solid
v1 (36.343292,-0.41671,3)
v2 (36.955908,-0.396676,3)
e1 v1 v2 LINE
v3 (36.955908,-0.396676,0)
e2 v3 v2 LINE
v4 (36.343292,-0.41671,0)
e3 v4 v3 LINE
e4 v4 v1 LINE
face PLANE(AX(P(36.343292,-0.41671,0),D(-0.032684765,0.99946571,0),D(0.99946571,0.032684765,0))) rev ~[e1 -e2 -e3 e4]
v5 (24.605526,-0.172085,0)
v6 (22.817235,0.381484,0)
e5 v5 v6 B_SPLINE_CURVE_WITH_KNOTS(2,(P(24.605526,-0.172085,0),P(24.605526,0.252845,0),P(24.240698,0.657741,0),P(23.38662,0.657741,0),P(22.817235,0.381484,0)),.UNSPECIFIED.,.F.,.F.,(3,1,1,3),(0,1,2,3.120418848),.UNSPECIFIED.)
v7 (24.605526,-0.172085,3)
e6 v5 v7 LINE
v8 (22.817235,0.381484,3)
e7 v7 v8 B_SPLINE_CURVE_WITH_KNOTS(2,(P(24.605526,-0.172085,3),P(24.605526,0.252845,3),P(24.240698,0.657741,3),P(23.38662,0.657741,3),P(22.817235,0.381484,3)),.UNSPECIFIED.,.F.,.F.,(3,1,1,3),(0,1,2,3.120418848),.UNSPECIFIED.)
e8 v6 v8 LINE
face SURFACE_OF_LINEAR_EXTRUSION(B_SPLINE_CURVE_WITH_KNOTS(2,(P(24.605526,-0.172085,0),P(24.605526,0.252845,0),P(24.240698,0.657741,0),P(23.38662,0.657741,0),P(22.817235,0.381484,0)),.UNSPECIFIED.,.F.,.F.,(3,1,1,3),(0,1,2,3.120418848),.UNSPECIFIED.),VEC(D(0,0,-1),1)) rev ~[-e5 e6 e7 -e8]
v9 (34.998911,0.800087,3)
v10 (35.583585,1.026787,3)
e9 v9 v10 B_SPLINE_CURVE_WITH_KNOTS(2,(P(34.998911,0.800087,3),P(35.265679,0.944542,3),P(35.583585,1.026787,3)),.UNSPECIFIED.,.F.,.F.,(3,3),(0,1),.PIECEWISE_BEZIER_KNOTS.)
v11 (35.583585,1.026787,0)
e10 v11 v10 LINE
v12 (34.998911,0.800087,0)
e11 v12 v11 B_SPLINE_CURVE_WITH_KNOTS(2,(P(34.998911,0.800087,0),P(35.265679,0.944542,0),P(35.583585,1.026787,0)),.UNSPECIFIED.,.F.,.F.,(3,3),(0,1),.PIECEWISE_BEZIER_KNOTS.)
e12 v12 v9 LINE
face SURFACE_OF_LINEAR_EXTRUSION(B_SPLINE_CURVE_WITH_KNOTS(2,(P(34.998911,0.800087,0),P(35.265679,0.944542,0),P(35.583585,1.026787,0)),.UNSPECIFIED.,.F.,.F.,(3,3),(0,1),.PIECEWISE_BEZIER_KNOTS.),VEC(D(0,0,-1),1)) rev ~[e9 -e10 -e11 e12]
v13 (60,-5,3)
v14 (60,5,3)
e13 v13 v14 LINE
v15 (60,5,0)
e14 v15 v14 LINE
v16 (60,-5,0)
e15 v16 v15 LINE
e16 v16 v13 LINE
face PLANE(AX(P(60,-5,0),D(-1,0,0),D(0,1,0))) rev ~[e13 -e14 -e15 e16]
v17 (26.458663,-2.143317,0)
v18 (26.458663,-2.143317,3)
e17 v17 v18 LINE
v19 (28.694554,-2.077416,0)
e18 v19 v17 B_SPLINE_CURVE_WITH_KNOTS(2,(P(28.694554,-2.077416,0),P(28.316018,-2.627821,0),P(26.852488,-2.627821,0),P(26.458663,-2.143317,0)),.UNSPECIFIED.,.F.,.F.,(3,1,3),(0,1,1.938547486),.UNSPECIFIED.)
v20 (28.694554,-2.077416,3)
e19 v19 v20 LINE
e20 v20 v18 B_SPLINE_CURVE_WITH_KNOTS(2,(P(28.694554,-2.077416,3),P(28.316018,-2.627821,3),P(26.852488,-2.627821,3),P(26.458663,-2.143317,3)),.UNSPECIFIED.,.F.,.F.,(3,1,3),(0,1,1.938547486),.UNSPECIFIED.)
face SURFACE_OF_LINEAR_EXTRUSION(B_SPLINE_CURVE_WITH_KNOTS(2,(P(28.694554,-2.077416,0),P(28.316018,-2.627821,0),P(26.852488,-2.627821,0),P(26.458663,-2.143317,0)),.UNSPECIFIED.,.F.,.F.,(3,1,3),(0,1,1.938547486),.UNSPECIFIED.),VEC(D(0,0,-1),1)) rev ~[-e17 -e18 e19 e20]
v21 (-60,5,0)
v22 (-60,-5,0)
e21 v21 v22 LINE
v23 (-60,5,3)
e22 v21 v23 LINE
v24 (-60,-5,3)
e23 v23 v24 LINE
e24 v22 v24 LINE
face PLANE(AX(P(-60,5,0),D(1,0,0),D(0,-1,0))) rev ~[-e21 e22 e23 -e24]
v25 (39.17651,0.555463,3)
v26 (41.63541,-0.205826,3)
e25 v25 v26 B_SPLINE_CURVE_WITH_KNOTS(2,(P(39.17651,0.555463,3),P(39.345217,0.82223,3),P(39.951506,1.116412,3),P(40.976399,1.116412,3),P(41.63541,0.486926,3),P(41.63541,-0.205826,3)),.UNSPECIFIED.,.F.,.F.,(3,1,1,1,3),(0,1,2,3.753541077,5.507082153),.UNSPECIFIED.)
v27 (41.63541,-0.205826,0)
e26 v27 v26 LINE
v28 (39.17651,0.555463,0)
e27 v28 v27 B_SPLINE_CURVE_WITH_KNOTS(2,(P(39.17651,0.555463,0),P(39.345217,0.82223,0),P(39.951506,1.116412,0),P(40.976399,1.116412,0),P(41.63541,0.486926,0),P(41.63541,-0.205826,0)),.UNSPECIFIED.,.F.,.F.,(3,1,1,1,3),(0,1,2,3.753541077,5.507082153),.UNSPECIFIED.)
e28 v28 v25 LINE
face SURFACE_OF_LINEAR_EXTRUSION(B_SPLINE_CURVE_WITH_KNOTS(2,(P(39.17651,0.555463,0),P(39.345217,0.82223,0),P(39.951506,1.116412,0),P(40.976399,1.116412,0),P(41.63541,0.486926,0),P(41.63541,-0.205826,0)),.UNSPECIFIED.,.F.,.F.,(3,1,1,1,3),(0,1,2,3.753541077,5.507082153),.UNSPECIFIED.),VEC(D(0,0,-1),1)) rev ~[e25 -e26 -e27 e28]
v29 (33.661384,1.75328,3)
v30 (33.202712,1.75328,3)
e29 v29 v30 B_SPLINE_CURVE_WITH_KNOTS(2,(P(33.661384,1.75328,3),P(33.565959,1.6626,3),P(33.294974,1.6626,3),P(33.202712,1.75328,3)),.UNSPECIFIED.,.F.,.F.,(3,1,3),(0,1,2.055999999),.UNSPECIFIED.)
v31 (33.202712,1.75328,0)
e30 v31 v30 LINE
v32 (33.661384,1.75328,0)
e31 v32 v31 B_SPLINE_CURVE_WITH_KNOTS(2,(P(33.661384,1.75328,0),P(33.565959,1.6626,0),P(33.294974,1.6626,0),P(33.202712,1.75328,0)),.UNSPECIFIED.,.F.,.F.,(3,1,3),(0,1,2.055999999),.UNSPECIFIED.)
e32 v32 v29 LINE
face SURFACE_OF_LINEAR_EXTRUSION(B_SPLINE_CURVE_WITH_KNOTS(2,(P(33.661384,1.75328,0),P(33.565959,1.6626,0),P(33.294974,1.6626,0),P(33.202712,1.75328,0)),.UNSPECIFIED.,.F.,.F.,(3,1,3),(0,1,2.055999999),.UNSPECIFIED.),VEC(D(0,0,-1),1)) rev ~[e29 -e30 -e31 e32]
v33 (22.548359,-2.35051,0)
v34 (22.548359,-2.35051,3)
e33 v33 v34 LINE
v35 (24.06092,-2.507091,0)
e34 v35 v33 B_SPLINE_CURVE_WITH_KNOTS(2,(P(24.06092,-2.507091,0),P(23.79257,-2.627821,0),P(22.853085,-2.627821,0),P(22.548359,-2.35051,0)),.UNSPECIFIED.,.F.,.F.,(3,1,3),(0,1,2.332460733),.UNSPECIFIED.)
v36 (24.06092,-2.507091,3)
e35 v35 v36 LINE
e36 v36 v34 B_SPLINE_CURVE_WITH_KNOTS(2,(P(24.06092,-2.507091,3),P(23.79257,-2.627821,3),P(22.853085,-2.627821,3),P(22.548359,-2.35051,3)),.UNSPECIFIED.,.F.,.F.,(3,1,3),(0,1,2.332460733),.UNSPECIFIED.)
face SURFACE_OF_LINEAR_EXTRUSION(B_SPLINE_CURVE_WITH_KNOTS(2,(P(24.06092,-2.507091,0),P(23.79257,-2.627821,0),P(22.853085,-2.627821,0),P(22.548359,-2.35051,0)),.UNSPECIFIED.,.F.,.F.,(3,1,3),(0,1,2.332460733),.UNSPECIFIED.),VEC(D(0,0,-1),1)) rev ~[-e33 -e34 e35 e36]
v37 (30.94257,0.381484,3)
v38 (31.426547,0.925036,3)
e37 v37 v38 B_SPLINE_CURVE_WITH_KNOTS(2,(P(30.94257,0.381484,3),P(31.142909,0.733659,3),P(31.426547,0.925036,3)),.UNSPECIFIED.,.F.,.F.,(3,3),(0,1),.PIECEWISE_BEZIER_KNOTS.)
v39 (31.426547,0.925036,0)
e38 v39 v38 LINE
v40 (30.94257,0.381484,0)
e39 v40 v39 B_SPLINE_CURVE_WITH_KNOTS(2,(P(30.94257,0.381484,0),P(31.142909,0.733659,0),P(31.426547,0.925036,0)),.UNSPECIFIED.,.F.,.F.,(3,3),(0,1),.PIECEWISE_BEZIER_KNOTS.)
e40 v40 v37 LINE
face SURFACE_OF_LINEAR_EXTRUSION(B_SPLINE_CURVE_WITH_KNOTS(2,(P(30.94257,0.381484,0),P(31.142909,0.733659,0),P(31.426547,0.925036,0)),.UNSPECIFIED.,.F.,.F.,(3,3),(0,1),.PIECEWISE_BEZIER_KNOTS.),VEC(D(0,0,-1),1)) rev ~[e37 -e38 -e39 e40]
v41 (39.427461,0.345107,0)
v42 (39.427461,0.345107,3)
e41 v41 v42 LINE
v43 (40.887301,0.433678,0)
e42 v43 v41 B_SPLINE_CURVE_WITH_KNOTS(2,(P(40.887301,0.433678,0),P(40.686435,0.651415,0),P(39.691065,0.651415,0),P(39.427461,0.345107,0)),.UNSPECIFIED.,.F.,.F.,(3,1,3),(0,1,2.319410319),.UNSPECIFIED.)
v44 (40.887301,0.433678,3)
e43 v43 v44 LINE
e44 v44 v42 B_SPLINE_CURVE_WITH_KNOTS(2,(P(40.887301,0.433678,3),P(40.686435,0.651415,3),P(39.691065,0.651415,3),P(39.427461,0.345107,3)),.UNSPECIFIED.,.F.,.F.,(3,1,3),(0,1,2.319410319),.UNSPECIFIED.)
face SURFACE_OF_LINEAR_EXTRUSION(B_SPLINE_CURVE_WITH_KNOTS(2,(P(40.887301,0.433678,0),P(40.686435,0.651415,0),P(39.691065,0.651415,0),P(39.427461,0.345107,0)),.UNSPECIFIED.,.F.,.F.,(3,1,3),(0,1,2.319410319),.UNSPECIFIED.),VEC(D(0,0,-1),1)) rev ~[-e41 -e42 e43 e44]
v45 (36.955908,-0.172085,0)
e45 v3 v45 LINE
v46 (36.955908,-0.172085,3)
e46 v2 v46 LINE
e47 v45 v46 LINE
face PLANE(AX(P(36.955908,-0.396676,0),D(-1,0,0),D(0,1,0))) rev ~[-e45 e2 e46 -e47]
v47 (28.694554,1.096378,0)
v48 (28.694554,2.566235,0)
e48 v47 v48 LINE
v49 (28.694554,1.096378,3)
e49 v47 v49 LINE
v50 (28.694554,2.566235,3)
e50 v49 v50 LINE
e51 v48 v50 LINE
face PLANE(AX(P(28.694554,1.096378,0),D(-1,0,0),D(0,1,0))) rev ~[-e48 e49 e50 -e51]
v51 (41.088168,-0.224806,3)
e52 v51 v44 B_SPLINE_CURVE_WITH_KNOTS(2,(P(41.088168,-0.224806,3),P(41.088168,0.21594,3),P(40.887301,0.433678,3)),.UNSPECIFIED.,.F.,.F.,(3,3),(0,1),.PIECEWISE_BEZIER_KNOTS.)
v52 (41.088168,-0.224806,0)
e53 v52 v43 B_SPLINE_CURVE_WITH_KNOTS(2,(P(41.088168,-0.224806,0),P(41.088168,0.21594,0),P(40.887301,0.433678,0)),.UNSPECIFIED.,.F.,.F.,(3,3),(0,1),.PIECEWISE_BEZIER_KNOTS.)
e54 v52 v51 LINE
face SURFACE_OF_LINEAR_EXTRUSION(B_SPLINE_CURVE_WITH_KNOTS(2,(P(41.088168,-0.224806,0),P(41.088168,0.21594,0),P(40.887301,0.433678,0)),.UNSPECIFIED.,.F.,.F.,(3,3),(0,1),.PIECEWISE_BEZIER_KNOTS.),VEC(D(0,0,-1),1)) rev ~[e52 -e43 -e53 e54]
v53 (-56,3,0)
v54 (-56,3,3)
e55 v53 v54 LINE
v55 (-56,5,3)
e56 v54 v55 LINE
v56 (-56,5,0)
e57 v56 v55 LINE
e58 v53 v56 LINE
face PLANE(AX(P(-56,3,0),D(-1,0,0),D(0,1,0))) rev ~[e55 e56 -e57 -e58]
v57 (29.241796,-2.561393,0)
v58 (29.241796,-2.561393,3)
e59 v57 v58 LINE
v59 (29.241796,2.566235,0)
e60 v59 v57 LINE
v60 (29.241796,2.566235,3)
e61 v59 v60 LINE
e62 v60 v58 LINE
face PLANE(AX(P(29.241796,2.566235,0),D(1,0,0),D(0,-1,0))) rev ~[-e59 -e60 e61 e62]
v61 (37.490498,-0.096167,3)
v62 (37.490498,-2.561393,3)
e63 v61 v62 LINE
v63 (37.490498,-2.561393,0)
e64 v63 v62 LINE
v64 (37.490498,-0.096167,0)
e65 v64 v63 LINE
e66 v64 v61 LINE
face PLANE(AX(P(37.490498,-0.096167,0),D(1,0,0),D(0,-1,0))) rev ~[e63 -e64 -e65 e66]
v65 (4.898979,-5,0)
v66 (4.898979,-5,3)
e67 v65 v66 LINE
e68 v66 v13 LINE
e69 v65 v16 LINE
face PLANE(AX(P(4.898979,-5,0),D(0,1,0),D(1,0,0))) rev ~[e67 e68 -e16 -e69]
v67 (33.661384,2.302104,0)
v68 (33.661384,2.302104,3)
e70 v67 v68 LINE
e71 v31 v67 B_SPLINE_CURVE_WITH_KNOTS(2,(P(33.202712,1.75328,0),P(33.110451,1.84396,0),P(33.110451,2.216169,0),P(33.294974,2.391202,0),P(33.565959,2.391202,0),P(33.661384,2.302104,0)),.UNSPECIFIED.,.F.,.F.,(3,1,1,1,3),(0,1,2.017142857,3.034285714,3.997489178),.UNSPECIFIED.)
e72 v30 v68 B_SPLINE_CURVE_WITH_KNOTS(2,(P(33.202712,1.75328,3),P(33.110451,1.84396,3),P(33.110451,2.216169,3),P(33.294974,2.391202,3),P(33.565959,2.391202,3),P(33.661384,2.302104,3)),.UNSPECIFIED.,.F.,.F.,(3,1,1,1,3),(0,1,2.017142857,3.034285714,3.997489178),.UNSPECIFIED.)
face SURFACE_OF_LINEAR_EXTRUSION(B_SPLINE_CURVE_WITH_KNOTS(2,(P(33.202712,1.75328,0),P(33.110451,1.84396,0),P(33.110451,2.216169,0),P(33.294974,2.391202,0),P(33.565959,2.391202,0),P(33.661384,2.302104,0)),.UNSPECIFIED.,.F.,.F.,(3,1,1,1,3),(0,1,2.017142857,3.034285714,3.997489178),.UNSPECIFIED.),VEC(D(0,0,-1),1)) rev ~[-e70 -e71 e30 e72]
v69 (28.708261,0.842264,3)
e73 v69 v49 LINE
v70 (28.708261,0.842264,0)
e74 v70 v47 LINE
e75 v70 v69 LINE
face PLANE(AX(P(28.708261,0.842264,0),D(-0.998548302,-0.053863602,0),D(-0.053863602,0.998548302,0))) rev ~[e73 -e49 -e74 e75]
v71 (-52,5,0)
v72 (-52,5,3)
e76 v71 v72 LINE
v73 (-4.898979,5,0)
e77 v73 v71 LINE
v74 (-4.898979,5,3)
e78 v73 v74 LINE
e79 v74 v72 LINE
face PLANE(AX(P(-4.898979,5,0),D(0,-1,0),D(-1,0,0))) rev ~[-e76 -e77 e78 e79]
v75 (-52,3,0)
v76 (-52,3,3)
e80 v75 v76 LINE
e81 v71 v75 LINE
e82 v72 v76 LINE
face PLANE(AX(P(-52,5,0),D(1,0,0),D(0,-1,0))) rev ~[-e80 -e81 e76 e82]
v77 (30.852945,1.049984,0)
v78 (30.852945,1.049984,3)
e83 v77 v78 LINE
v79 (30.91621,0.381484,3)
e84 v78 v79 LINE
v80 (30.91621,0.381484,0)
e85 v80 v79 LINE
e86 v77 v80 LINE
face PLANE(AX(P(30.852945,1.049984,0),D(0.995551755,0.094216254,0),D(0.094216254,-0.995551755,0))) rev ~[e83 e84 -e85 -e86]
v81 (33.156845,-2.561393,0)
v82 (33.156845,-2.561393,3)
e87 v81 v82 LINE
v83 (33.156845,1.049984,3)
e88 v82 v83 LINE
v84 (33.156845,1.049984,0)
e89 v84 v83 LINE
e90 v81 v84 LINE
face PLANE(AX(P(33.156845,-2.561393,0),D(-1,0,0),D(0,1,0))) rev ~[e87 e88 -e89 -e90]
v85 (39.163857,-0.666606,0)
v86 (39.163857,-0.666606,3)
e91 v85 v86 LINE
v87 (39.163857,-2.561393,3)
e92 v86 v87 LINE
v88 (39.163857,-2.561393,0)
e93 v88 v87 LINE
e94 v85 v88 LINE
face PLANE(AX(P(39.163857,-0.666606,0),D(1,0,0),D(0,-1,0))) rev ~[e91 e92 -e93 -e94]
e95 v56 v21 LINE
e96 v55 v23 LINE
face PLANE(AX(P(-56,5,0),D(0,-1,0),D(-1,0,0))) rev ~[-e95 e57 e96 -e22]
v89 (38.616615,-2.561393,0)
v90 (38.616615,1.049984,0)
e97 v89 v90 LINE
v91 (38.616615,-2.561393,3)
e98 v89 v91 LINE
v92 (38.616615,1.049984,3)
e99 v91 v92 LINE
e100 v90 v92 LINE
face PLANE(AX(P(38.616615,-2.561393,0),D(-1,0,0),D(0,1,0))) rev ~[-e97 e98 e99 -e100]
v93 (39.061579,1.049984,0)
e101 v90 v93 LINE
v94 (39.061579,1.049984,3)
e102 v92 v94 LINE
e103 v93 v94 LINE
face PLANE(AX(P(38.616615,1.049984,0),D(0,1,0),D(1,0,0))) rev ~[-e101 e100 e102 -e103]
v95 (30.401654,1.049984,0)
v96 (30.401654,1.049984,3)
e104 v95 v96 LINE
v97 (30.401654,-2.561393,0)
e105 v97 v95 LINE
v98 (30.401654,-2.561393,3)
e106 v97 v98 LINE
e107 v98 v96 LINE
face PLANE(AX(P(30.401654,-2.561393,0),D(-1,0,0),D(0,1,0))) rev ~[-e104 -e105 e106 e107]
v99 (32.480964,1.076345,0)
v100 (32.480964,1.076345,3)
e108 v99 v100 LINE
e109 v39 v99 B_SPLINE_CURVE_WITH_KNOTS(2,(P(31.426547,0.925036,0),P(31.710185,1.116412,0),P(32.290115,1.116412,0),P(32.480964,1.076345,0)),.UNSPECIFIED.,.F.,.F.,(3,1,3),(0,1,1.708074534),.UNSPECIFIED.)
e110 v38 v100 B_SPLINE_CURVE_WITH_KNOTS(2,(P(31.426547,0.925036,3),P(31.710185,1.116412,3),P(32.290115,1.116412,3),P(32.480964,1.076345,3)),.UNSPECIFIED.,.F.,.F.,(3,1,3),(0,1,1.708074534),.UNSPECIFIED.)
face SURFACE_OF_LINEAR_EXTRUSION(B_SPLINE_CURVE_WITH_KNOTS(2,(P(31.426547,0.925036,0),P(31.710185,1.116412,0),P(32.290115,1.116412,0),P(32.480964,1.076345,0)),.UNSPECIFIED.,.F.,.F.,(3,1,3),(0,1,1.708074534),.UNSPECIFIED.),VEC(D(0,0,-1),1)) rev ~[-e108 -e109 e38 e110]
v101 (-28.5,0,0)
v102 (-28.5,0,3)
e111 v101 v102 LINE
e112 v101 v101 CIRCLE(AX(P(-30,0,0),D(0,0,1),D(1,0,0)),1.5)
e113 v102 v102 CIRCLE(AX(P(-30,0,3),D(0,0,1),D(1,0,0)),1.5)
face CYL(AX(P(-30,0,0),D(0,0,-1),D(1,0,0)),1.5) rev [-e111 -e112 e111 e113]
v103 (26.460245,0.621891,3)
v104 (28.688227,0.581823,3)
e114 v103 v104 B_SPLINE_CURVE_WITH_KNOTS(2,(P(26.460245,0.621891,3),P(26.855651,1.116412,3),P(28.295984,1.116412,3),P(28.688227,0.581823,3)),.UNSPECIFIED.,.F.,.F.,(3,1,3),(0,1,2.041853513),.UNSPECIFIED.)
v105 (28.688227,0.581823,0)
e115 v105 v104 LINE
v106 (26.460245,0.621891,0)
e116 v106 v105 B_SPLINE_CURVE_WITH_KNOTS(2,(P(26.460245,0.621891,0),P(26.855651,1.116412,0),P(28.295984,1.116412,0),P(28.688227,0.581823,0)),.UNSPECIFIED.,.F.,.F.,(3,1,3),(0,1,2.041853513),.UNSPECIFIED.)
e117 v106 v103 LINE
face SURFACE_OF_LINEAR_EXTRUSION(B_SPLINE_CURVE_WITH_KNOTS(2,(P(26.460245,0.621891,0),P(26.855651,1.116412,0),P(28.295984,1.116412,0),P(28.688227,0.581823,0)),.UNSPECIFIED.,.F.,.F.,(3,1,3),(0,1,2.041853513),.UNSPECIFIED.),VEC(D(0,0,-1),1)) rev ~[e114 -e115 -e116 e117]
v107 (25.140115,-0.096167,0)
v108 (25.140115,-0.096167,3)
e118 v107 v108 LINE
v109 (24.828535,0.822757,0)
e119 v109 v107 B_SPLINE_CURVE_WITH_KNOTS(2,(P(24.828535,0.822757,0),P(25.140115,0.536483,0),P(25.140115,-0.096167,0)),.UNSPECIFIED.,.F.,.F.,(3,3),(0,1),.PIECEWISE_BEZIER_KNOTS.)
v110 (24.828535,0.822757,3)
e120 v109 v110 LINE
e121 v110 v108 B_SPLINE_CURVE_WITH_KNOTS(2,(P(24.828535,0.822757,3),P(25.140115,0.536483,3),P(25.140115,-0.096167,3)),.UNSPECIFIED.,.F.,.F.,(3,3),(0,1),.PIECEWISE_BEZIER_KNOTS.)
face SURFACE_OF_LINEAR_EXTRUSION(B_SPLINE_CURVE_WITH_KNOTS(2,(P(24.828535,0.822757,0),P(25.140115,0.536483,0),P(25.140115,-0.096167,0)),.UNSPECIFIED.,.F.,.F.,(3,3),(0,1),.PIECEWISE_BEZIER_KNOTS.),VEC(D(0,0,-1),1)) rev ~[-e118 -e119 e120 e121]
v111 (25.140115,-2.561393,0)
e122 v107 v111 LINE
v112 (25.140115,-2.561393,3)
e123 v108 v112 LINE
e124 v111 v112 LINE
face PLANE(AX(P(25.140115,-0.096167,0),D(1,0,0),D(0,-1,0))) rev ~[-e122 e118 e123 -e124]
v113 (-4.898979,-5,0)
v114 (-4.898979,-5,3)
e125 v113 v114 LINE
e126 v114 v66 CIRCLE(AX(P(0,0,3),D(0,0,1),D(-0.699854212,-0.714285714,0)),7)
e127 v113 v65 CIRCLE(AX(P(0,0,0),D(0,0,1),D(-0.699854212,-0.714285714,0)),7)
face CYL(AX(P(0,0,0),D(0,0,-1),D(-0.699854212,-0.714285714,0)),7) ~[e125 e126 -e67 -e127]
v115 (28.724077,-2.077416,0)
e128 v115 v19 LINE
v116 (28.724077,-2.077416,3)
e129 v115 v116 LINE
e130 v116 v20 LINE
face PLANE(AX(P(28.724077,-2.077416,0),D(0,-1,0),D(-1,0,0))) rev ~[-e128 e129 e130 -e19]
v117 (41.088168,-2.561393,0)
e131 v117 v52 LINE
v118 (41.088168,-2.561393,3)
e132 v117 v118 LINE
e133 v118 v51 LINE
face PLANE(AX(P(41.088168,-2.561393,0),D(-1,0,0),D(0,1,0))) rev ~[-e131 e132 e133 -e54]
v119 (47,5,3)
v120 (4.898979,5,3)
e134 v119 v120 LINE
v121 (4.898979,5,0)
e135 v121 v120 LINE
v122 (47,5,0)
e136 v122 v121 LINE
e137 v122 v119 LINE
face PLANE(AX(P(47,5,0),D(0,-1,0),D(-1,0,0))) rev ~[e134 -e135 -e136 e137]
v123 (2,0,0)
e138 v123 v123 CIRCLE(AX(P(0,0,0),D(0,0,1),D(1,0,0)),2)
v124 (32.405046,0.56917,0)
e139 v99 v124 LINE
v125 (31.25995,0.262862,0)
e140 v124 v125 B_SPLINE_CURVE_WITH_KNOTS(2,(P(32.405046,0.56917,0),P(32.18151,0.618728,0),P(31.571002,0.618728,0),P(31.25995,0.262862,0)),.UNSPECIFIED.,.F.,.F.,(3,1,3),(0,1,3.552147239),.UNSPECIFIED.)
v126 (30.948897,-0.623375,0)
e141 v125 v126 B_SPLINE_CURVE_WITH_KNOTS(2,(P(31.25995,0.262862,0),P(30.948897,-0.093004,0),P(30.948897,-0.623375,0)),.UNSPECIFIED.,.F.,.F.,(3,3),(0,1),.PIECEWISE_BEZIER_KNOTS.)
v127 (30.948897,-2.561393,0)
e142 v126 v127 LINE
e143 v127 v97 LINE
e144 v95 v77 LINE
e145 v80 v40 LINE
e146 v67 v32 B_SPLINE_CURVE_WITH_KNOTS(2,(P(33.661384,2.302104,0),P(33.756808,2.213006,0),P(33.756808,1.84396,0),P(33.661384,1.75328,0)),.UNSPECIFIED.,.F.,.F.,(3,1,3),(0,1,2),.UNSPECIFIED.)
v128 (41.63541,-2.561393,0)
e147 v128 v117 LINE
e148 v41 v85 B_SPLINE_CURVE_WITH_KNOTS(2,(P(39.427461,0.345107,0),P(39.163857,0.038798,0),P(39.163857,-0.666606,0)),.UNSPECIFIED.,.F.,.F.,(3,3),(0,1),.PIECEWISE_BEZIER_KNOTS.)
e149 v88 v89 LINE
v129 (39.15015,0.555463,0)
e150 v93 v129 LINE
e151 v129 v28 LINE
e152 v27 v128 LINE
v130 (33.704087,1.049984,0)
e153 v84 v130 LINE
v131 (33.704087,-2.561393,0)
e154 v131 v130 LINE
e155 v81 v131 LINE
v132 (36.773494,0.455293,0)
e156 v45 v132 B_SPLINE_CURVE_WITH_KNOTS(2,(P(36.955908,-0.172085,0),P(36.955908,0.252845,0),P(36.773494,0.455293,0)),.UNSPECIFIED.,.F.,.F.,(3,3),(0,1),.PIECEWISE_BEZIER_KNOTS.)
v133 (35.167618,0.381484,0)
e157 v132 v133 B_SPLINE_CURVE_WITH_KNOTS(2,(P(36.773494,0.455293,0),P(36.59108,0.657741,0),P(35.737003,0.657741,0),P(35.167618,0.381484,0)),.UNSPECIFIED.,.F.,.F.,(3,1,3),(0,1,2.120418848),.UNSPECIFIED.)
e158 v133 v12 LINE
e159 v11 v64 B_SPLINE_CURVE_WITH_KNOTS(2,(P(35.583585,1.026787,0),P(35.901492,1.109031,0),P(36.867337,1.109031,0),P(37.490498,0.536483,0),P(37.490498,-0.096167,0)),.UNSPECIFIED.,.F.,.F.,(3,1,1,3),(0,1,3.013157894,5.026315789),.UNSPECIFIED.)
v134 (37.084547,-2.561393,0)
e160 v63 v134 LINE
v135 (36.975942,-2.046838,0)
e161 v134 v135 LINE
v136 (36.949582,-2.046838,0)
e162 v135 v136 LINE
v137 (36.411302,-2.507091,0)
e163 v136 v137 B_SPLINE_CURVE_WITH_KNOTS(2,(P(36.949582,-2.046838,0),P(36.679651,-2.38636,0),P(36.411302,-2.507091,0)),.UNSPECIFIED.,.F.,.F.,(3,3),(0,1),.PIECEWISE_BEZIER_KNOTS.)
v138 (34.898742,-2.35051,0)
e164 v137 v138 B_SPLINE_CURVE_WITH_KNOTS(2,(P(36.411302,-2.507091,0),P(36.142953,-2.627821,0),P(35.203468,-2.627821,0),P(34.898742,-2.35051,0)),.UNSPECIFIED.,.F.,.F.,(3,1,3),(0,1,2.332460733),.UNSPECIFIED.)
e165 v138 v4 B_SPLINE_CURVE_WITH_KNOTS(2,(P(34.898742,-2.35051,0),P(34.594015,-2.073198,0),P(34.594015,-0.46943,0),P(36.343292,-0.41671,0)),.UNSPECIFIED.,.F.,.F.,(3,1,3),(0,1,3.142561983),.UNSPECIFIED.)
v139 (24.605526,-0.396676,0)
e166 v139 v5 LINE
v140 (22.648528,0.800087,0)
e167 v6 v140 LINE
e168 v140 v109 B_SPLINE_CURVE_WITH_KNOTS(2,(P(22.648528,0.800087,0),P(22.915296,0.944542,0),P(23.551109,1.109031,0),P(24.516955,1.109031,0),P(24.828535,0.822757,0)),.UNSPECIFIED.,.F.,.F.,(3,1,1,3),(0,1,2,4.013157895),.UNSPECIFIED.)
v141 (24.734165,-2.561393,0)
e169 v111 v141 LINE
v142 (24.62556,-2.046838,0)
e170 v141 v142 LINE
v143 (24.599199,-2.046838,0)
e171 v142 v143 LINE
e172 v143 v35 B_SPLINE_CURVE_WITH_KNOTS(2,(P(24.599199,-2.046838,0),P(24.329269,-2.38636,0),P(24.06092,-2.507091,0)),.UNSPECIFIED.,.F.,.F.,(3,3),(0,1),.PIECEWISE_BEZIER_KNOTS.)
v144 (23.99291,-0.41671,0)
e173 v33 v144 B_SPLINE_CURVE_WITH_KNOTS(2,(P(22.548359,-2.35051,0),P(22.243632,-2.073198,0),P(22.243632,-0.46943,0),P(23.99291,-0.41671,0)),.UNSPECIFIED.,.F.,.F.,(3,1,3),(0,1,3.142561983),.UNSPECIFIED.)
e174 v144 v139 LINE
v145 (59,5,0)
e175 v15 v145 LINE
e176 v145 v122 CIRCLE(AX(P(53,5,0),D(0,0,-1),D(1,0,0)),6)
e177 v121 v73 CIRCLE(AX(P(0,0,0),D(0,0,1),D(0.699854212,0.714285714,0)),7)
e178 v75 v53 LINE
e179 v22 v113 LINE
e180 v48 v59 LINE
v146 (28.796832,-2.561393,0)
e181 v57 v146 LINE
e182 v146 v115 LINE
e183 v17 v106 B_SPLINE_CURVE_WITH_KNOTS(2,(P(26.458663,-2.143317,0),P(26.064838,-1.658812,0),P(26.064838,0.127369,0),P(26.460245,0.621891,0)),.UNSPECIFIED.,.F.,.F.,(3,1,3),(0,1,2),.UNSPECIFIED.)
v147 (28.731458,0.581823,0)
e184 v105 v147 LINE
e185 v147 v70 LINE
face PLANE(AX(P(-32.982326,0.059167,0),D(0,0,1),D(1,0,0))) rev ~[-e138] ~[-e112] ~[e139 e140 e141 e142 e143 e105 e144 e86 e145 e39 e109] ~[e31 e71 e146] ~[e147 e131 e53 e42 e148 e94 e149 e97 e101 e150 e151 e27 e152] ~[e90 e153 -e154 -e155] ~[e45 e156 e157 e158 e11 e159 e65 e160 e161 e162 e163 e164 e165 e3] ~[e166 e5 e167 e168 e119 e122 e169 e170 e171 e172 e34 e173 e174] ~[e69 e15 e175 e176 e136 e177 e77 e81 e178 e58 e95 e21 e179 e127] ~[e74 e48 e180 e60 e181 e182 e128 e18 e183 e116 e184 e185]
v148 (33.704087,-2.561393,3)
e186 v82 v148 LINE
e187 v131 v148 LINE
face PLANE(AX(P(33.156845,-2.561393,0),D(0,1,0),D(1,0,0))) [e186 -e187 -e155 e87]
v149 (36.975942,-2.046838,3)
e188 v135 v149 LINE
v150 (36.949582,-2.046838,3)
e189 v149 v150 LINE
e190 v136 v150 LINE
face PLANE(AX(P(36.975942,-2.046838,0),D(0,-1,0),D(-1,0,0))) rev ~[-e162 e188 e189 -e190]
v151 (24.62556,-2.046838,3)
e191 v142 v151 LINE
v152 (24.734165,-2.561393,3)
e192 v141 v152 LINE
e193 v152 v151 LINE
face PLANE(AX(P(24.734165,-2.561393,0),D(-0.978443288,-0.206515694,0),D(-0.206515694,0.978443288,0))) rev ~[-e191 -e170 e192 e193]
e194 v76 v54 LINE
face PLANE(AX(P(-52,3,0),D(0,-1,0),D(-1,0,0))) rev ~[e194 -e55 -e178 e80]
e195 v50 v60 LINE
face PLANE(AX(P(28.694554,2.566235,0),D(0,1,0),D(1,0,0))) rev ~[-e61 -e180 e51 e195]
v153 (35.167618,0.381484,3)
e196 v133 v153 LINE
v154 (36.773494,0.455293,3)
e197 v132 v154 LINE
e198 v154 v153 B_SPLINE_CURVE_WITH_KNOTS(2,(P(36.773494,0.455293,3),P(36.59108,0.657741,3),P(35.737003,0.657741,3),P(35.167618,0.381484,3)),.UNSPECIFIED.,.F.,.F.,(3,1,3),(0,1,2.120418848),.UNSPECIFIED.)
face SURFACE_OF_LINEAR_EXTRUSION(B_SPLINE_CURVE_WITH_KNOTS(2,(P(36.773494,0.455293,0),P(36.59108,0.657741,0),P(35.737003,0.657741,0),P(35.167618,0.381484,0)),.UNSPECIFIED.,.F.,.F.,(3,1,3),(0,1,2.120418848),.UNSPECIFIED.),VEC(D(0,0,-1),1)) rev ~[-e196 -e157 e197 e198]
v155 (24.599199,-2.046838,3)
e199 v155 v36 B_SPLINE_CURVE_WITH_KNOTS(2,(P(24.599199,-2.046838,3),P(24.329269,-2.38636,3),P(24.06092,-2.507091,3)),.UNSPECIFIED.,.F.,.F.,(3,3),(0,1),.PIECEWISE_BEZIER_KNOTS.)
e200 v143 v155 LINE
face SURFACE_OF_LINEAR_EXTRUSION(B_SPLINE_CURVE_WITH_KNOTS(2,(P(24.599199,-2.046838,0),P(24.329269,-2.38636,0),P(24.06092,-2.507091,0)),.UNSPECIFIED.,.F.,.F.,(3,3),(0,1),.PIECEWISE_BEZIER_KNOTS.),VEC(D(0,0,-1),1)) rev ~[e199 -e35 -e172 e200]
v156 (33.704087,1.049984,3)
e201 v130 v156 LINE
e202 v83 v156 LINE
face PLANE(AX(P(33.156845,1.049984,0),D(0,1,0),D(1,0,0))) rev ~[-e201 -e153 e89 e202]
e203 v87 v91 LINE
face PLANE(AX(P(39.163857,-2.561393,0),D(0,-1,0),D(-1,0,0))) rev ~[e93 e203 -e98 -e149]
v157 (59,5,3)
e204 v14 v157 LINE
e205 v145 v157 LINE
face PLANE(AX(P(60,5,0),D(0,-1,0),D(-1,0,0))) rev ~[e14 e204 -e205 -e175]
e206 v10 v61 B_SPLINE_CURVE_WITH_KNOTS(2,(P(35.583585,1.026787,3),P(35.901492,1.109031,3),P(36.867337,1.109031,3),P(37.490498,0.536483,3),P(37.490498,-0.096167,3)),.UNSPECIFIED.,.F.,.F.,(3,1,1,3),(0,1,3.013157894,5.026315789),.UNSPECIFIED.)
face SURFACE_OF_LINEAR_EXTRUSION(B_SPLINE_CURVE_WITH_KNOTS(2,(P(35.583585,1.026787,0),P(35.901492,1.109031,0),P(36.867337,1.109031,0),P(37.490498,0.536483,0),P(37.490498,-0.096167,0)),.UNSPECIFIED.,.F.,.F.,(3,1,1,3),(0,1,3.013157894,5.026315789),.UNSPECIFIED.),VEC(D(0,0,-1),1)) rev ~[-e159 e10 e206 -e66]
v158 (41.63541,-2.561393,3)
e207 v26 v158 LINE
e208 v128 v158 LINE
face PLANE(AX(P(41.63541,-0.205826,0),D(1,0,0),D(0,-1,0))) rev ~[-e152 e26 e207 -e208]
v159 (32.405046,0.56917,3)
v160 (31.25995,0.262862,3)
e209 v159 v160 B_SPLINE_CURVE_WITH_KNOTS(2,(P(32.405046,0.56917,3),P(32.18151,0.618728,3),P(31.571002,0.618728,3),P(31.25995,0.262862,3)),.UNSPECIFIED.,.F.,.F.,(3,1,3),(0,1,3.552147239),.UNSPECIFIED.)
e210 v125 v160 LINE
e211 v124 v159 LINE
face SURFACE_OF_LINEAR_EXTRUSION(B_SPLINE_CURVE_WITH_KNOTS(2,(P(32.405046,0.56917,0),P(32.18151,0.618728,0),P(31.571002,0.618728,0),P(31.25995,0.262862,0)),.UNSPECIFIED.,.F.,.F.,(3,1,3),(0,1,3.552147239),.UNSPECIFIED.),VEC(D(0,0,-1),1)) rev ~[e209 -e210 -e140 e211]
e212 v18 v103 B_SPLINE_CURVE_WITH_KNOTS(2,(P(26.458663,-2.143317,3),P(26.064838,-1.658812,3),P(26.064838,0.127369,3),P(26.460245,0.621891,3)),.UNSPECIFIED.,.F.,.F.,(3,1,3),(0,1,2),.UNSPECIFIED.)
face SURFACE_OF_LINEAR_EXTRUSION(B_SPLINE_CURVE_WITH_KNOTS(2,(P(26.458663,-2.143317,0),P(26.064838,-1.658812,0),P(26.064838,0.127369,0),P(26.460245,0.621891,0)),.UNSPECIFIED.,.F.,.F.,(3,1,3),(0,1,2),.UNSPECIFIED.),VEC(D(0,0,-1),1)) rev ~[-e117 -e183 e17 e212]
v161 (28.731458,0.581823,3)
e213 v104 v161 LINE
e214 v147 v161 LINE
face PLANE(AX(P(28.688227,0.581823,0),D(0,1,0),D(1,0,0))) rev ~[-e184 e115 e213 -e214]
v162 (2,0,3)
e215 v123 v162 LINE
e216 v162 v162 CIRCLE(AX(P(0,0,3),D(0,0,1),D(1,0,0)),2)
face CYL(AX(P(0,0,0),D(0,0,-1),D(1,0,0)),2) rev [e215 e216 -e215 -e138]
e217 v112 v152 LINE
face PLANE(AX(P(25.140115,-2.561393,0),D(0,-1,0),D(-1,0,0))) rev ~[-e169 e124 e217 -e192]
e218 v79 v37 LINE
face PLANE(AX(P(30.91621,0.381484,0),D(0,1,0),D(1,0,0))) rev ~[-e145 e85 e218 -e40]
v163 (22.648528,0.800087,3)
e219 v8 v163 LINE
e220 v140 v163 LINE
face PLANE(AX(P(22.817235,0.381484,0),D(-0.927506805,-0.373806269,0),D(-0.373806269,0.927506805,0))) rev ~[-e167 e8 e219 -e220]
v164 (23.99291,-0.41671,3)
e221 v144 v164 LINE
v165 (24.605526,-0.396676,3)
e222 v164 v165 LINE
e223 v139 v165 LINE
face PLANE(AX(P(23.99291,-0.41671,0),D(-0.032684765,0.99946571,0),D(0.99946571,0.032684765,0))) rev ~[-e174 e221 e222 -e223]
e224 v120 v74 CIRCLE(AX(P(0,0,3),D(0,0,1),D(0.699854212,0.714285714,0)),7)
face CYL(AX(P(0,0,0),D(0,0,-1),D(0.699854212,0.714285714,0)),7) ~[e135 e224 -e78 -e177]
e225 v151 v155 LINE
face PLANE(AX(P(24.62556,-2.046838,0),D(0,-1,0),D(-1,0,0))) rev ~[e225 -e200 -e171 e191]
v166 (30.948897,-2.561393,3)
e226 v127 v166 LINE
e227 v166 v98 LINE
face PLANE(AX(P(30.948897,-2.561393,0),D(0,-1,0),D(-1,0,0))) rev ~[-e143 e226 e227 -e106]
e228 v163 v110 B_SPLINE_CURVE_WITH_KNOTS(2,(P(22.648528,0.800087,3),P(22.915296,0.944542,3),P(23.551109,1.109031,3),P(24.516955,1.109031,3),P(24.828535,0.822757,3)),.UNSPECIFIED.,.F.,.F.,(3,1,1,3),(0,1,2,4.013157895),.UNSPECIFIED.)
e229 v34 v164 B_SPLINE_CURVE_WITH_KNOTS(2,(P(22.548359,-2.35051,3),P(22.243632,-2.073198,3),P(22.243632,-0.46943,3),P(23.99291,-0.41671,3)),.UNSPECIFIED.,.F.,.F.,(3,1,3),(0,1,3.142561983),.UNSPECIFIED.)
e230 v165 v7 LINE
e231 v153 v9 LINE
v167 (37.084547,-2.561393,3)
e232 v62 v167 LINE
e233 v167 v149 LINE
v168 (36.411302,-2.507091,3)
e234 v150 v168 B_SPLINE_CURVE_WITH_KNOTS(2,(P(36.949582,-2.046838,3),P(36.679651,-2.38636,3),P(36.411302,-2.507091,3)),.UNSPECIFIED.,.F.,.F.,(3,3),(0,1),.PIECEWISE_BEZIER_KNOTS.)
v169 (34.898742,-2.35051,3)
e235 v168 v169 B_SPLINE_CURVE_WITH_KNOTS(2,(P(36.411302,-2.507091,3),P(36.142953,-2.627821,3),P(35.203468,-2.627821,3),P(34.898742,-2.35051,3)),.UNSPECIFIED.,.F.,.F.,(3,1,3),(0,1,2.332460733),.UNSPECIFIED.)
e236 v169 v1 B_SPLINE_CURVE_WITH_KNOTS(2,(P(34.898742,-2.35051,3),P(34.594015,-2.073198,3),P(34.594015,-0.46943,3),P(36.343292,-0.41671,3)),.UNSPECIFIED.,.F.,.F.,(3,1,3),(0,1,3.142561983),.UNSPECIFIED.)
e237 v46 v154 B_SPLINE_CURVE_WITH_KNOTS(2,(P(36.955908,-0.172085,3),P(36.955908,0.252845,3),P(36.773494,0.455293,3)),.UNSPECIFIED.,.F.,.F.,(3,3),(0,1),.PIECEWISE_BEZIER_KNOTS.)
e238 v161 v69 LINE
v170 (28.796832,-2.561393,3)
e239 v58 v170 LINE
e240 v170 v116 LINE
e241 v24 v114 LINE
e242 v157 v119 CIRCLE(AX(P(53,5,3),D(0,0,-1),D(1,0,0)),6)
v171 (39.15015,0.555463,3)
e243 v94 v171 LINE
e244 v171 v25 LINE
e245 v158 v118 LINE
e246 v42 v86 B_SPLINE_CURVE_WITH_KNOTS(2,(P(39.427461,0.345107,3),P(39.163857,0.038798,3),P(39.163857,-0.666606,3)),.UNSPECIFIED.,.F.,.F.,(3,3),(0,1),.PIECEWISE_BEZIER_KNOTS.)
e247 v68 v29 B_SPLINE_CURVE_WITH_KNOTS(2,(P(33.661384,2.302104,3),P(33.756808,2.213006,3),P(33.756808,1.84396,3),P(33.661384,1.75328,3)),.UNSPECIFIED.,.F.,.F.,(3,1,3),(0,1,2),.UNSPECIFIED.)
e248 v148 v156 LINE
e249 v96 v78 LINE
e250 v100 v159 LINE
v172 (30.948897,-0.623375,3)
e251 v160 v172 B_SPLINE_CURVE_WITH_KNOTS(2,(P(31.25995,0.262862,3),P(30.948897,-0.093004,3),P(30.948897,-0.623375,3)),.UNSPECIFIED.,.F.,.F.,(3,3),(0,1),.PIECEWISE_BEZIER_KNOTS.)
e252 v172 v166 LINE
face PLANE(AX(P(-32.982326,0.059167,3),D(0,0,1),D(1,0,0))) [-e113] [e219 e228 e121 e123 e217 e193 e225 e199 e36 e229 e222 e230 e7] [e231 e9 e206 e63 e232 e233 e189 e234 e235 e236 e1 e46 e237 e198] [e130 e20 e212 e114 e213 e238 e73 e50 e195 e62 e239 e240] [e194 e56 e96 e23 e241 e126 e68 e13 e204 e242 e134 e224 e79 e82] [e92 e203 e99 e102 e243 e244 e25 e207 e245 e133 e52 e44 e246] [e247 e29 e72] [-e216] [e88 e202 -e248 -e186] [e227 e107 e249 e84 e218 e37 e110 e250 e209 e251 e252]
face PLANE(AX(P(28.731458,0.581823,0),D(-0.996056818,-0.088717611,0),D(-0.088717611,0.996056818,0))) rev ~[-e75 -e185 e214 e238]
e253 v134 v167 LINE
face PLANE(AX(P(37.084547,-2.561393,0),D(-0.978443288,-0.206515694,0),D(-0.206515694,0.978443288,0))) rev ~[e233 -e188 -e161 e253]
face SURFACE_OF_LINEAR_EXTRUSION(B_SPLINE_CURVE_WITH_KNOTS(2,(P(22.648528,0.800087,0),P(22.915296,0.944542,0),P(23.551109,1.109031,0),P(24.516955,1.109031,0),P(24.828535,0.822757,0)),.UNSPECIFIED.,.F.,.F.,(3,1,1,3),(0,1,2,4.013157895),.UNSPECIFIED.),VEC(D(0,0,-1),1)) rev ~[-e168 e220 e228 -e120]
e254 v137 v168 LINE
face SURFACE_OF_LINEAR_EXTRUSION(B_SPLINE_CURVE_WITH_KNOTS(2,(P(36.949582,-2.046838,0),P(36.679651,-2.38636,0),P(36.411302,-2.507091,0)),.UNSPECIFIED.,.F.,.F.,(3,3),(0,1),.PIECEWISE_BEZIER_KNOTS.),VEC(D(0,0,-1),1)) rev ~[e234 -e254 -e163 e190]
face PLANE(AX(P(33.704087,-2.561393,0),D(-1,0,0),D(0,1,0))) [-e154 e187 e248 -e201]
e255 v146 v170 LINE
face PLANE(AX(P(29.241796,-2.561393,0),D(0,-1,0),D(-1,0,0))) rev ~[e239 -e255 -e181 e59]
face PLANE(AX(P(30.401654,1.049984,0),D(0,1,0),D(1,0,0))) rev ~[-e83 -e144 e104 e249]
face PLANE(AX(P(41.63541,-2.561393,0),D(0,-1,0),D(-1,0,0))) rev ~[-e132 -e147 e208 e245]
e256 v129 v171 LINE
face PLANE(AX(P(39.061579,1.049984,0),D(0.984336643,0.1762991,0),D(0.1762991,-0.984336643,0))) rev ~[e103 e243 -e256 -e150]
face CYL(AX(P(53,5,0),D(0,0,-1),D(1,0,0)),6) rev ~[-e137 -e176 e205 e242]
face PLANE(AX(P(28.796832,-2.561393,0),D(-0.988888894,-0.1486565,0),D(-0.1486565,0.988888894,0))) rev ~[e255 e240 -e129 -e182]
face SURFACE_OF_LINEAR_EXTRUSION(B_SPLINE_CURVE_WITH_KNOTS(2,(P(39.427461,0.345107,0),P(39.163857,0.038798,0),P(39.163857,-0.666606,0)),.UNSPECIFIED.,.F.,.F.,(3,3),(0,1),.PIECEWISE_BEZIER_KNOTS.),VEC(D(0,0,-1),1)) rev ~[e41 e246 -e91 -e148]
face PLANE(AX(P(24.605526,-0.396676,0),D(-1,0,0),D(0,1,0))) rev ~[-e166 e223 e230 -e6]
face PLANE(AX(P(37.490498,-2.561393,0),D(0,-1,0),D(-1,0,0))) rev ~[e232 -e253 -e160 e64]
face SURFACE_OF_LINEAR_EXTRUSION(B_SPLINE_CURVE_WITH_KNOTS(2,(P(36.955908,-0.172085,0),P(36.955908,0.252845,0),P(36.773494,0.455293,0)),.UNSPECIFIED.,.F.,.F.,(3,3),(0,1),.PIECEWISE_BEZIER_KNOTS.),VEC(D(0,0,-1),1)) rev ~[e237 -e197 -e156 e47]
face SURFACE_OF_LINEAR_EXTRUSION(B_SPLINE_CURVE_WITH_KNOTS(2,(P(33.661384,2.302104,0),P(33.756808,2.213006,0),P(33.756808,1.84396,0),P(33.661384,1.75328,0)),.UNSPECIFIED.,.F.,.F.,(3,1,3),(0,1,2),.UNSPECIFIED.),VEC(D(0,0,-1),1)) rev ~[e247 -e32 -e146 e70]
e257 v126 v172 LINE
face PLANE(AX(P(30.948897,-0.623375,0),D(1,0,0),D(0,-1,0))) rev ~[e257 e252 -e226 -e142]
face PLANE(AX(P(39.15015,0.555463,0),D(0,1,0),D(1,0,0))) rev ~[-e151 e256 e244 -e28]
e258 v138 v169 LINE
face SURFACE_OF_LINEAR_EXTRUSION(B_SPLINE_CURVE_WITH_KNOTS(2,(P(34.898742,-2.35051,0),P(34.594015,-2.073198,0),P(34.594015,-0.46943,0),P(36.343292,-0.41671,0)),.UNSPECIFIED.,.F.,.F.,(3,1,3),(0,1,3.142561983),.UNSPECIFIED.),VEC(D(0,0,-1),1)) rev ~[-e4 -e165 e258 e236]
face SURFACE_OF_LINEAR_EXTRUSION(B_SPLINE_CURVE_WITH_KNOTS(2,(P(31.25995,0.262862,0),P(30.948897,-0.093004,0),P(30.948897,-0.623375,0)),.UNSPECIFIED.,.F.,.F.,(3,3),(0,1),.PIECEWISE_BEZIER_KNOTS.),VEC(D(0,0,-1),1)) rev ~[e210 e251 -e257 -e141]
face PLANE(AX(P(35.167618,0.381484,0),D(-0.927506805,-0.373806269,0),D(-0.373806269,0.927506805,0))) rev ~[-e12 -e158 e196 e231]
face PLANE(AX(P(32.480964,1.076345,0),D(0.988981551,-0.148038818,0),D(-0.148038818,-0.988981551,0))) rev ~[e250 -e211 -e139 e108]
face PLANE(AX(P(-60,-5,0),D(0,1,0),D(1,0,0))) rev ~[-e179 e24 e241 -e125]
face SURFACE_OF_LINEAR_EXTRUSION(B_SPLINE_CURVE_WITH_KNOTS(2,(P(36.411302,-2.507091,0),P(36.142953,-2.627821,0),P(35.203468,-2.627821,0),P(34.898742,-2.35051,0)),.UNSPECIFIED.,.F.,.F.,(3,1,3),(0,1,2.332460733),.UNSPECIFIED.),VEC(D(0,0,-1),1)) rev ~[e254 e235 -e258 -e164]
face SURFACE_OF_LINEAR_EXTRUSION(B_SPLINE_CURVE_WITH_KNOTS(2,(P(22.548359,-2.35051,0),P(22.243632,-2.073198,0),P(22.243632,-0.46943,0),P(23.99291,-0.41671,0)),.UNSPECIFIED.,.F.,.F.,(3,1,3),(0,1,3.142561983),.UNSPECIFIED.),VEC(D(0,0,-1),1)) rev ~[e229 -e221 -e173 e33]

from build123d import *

# Parameters (mm, degrees)
F0_R     = 1.5
F0_R_2   = 2
F0_W     = 0.5472422647
F0_H     = 3.6113771804
F1_DEPTH = 3


with BuildPart() as f1:
    # F0 (on Top) → F1 (new body)
    with BuildSketch(Plane.XY):
        with BuildLine():
            Line((-60, 5), (-60, -5))
            Line((-60, -5), (-4.8989794856, -5))
            ThreePointArc((-4.8989794856, -5), (-7, 0), (-4.8989794856, 5))
            Line((-4.8989794856, 5), (-52, 5))
            Line((-52, 5), (-52, 3))
            Line((-52, 3), (-56, 3))
            Line((-56, 3), (-56, 5))
            Line((-56, 5), (-60, 5))
        make_face()
        with Locations((-30, 0)):
            Circle(F0_R, mode=Mode.SUBTRACT)
        with BuildLine():
            ThreePointArc((-4.8989794856, 5), (-7, 0), (-4.8989794856, -5))
            Line((-4.8989794856, -5), (4.8989794856, -5))
            ThreePointArc((4.8989794856, -5), (6.4534043883, -2.7117470016), (7, 0))
            ThreePointArc((7, 0), (6.4534043883, 2.7117470016), (4.8989794856, 5))
            Line((4.8989794856, 5), (-4.8989794856, 5))
        make_face()
        Circle(F0_R_2, mode=Mode.SUBTRACT)
        with BuildLine():
            ThreePointArc((4.8989794856, 5), (0, 7), (-4.8989794856, 5))
            Line((-4.8989794856, 5), (4.8989794856, 5))
        make_face()
        with BuildLine():
            Line((4.8989794856, -5), (-4.8989794856, -5))
            ThreePointArc((-4.8989794856, -5), (0, -7), (4.8989794856, -5))
        make_face()
        with BuildLine():
            ThreePointArc((7, 0), (6.4534043883, -2.7117470016), (4.8989794856, -5))
            Line((4.8989794856, -5), (60, -5))
            Line((60, -5), (60, 5))
            Line((60, 5), (59, 5))
            ThreePointArc((59, 5), (53, -1), (47, 5))
            Line((47, 5), (4.8989794856, 5))
            ThreePointArc((4.8989794856, 5), (6.4534043883, 2.7117470016), (7, 0))
        make_face()
        with BuildLine():
            Line((25.1401150036, -2.5613930775), (24.734164576, -2.5613930775))
            Line((24.734164576, -2.5613930775), (24.6255596564, -2.0468377303))
            Line((24.6255596564, -2.0468377303), (24.5991992391, -2.0468377303))
            add(Edge.make_bspline(
                [(24.5991992391, -2.0468377303), (24.3292685651, -2.3863599061), (24.0609195163, -2.5070906177)],
                knots=[0, 0, 0, 1, 1, 1], degree=2))
            add(Edge.make_bspline(
                [(24.0609195163, -2.5070906177), (23.7925704674, -2.6278213293), (23.3897832899, -2.6278213293)],
                knots=[0, 0, 0, 1, 1, 1], degree=2))
            add(Edge.make_bspline(
                [(23.3897832899, -2.6278213293), (22.8530851922, -2.6278213293), (22.5483587673, -2.3505097385)],
                knots=[0, 0, 0, 1, 1, 1], degree=2))
            add(Edge.make_bspline(
                [(22.5483587673, -2.3505097385), (22.2436323425, -2.0731981477), (22.2436323425, -1.5628604673)],
                knots=[0, 0, 0, 1, 1, 1], degree=2))
            add(Edge.make_bspline(
                [(22.2436323425, -1.5628604673), (22.2436323425, -0.4694303546), (23.9929096394, -0.4167095199)],
                knots=[0, 0, 0, 1, 1, 1], degree=2))
            Line((23.9929096394, -0.4167095199), (24.6055257392, -0.3966756027))
            Line((24.6055257392, -0.3966756027), (24.6055257392, -0.1720848466))
            add(Edge.make_bspline(
                [(24.6055257392, -0.1720848466), (24.6055257392, 0.2528450815), (24.423111651, 0.4552930869)],
                knots=[0, 0, 0, 1, 1, 1], degree=2))
            add(Edge.make_bspline(
                [(24.423111651, 0.4552930869), (24.2406975628, 0.6577410923), (23.8379103853, 0.6577410923)],
                knots=[0, 0, 0, 1, 1, 1], degree=2))
            add(Edge.make_bspline(
                [(23.8379103853, 0.6577410923), (23.3866200398, 0.6577410923), (22.8172350245, 0.3814839182)],
                knots=[0, 0, 0, 1, 1, 1], degree=2))
            Line((22.8172350245, 0.3814839182), (22.6485283533, 0.8000873462))
            add(Edge.make_bspline(
                [(22.6485283533, 0.8000873462), (22.9152957772, 0.9445424334), (23.2332024107, 1.0267869356)],
                knots=[0, 0, 0, 1, 1, 1], degree=2))
            add(Edge.make_bspline(
                [(23.2332024107, 1.0267869356), (23.5511090442, 1.1090314378), (23.8716517195, 1.1090314378)],
                knots=[0, 0, 0, 1, 1, 1], degree=2))
            add(Edge.make_bspline(
                [(23.8716517195, 1.1090314378), (24.5169547369, 1.1090314378), (24.8285348702, 0.8227573051)],
                knots=[0, 0, 0, 1, 1, 1], degree=2))
            add(Edge.make_bspline(
                [(24.8285348702, 0.8227573051), (25.1401150036, 0.5364831724), (25.1401150036, -0.0961668446)],
                knots=[0, 0, 0, 1, 1, 1], degree=2))
            Line((25.1401150036, -0.0961668446), (25.1401150036, -2.5613930775))
        make_face(mode=Mode.SUBTRACT)
        with BuildLine():
            Line((28.7968321018, -2.5613930775), (28.7240773499, -2.0774158145))
            Line((28.7240773499, -2.0774158145), (28.6945536824, -2.0774158145))
            add(Edge.make_bspline(
                [(28.6945536824, -2.0774158145), (28.3160180889, -2.6278213293), (27.5610557353, -2.6278213293)],
                knots=[0, 0, 0, 1, 1, 1], degree=2))
            add(Edge.make_bspline(
                [(27.5610557353, -2.6278213293), (26.8524877163, -2.6278213293), (26.4586630807, -2.1433168579)],
                knots=[0, 0, 0, 1, 1, 1], degree=2))
            add(Edge.make_bspline(
                [(26.4586630807, -2.1433168579), (26.0648384451, -1.6588123866), (26.0648384451, -0.7657214459)],
                knots=[0, 0, 0, 1, 1, 1], degree=2))
            add(Edge.make_bspline(
                [(26.0648384451, -0.7657214459), (26.0648384451, 0.1273694947), (26.4602447057, 0.6218909247)],
                knots=[0, 0, 0, 1, 1, 1], degree=2))
            add(Edge.make_bspline(
                [(26.4602447057, 0.6218909247), (26.8556509664, 1.1164123547), (27.5610557353, 1.1164123547)],
                knots=[0, 0, 0, 1, 1, 1], degree=2))
            add(Edge.make_bspline(
                [(27.5610557353, 1.1164123547), (28.2959841717, 1.1164123547), (28.6882271823, 0.5818230903)],
                knots=[0, 0, 0, 1, 1, 1], degree=2))
            Line((28.6882271823, 0.5818230903), (28.7314582667, 0.5818230903))
            Line((28.7314582667, 0.5818230903), (28.7082610995, 0.842264014))
            Line((28.7082610995, 0.842264014), (28.6945536824, 1.0963784374))
            Line((28.6945536824, 1.0963784374), (28.6945536824, 2.5662353103))
            Line((28.6945536824, 2.5662353103), (29.2417959471, 2.5662353103))
            Line((29.2417959471, 2.5662353103), (29.2417959471, -2.5613930775))
            Line((29.2417959471, -2.5613930775), (28.7968321018, -2.5613930775))
        make_face(mode=Mode.SUBTRACT)
        with BuildLine():
            add(Edge.make_bspline(
                [(31.4265473392, 0.9250357245), (31.7101854301, 1.1164123547), (32.0497076059, 1.1164123547)],
                knots=[0, 0, 0, 1, 1, 1], degree=2))
            add(Edge.make_bspline(
                [(32.0497076059, 1.1164123547), (32.2901146124, 1.1164123547), (32.4809640341, 1.0763445202)],
                knots=[0, 0, 0, 1, 1, 1], degree=2))
            Line((32.4809640341, 1.0763445202), (32.4050460321, 0.56917009))
            add(Edge.make_bspline(
                [(32.4050460321, 0.56917009), (32.1815096928, 0.6187276746), (32.0096397715, 0.6187276746)],
                knots=[0, 0, 0, 1, 1, 1], degree=2))
            add(Edge.make_bspline(
                [(32.0096397715, 0.6187276746), (31.5710024264, 0.6187276746), (31.2599495013, 0.2628620401)],
                knots=[0, 0, 0, 1, 1, 1], degree=2))
            add(Edge.make_bspline(
                [(31.2599495013, 0.2628620401), (30.9488965763, -0.0930035945), (30.9488965763, -0.6233751921)],
                knots=[0, 0, 0, 1, 1, 1], degree=2))
            Line((30.9488965763, -0.6233751921), (30.9488965763, -2.5613930775))
            Line((30.9488965763, -2.5613930775), (30.4016543116, -2.5613930775))
            Line((30.4016543116, -2.5613930775), (30.4016543116, 1.0499841029))
            Line((30.4016543116, 1.0499841029), (30.8529446571, 1.0499841029))
            Line((30.8529446571, 1.0499841029), (30.9162096588, 0.3814839182))
            Line((30.9162096588, 0.3814839182), (30.9425700761, 0.3814839182))
            add(Edge.make_bspline(
                [(30.9425700761, 0.3814839182), (31.1429092482, 0.7336590944), (31.4265473392, 0.9250357245)],
                knots=[0, 0, 0, 1, 1, 1], degree=2))
        make_face(mode=Mode.SUBTRACT)
        with Locations((33.430466268, -0.7557044873)):
            Rectangle(F0_W, F0_H, mode=Mode.SUBTRACT)
        with BuildLine():
            Line((37.4904977521, -2.5613930775), (37.0845473245, -2.5613930775))
            Line((37.0845473245, -2.5613930775), (36.9759424049, -2.0468377303))
            Line((36.9759424049, -2.0468377303), (36.9495819875, -2.0468377303))
            add(Edge.make_bspline(
                [(36.9495819875, -2.0468377303), (36.6796513136, -2.3863599061), (36.4113022647, -2.5070906177)],
                knots=[0, 0, 0, 1, 1, 1], degree=2))
            add(Edge.make_bspline(
                [(36.4113022647, -2.5070906177), (36.1429532159, -2.6278213293), (35.7401660384, -2.6278213293)],
                knots=[0, 0, 0, 1, 1, 1], degree=2))
            add(Edge.make_bspline(
                [(35.7401660384, -2.6278213293), (35.2034679406, -2.6278213293), (34.8987415158, -2.3505097385)],
                knots=[0, 0, 0, 1, 1, 1], degree=2))
            add(Edge.make_bspline(
                [(34.8987415158, -2.3505097385), (34.5940150909, -2.0731981477), (34.5940150909, -1.5628604673)],
                knots=[0, 0, 0, 1, 1, 1], degree=2))
            add(Edge.make_bspline(
                [(34.5940150909, -1.5628604673), (34.5940150909, -0.4694303546), (36.3432923879, -0.4167095199)],
                knots=[0, 0, 0, 1, 1, 1], degree=2))
            Line((36.3432923879, -0.4167095199), (36.9559084877, -0.3966756027))
            Line((36.9559084877, -0.3966756027), (36.9559084877, -0.1720848466))
            add(Edge.make_bspline(
                [(36.9559084877, -0.1720848466), (36.9559084877, 0.2528450815), (36.7734943995, 0.4552930869)],
                knots=[0, 0, 0, 1, 1, 1], degree=2))
            add(Edge.make_bspline(
                [(36.7734943995, 0.4552930869), (36.5910803112, 0.6577410923), (36.1882931337, 0.6577410923)],
                knots=[0, 0, 0, 1, 1, 1], degree=2))
            add(Edge.make_bspline(
                [(36.1882931337, 0.6577410923), (35.7370027883, 0.6577410923), (35.167617773, 0.3814839182)],
                knots=[0, 0, 0, 1, 1, 1], degree=2))
            Line((35.167617773, 0.3814839182), (34.9989111018, 0.8000873462))
            add(Edge.make_bspline(
                [(34.9989111018, 0.8000873462), (35.2656785256, 0.9445424334), (35.5835851592, 1.0267869356)],
                knots=[0, 0, 0, 1, 1, 1], degree=2))
            add(Edge.make_bspline(
                [(35.5835851592, 1.0267869356), (35.9014917927, 1.1090314378), (36.222034468, 1.1090314378)],
                knots=[0, 0, 0, 1, 1, 1], degree=2))
            add(Edge.make_bspline(
                [(36.222034468, 1.1090314378), (36.8673374853, 1.1090314378), (37.1789176187, 0.8227573051)],
                knots=[0, 0, 0, 1, 1, 1], degree=2))
            add(Edge.make_bspline(
                [(37.1789176187, 0.8227573051), (37.4904977521, 0.5364831724), (37.4904977521, -0.0961668446)],
                knots=[0, 0, 0, 1, 1, 1], degree=2))
            Line((37.4904977521, -0.0961668446), (37.4904977521, -2.5613930775))
        make_face(mode=Mode.SUBTRACT)
        with BuildLine():
            Line((41.6354097801, -2.5613930775), (41.0881675154, -2.5613930775))
            Line((41.0881675154, -2.5613930775), (41.0881675154, -0.2248056814))
            add(Edge.make_bspline(
                [(41.0881675154, -0.2248056814), (41.0881675154, 0.2159404971), (40.887301135, 0.4336775446)],
                knots=[0, 0, 0, 1, 1, 1], degree=2))
            add(Edge.make_bspline(
                [(40.887301135, 0.4336775446), (40.6864347546, 0.6514145922), (40.2572871597, 0.6514145922)],
                knots=[0, 0, 0, 1, 1, 1], degree=2))
            add(Edge.make_bspline(
                [(40.2572871597, 0.6514145922), (39.6910653945, 0.6514145922), (39.4274612208, 0.3451065423)],
                knots=[0, 0, 0, 1, 1, 1], degree=2))
            add(Edge.make_bspline(
                [(39.4274612208, 0.3451065423), (39.163857047, 0.0387984924), (39.163857047, -0.6666062766)],
                knots=[0, 0, 0, 1, 1, 1], degree=2))
            Line((39.163857047, -0.6666062766), (39.163857047, -2.5613930775))
            Line((39.163857047, -2.5613930775), (38.6166147823, -2.5613930775))
            Line((38.6166147823, -2.5613930775), (38.6166147823, 1.0499841029))
            Line((38.6166147823, 1.0499841029), (39.0615786276, 1.0499841029))
            Line((39.0615786276, 1.0499841029), (39.15014963, 0.5554626729))
            Line((39.15014963, 0.5554626729), (39.1765100474, 0.5554626729))
            add(Edge.make_bspline(
                [(39.1765100474, 0.5554626729), (39.3452167186, 0.8222300967), (39.6483615184, 0.9693212257)],
                knots=[0, 0, 0, 1, 1, 1], degree=2))
            add(Edge.make_bspline(
                [(39.6483615184, 0.9693212257), (39.9515063182, 1.1164123547), (40.3237154115, 1.1164123547)],
                knots=[0, 0, 0, 1, 1, 1], degree=2))
            add(Edge.make_bspline(
                [(40.3237154115, 1.1164123547), (40.9763993457, 1.1164123547), (41.3059045629, 0.8016689712)],
                knots=[0, 0, 0, 1, 1, 1], degree=2))
            add(Edge.make_bspline(
                [(41.3059045629, 0.8016689712), (41.6354097801, 0.4869255877), (41.6354097801, -0.2058261809)],
                knots=[0, 0, 0, 1, 1, 1], degree=2))
            Line((41.6354097801, -0.2058261809), (41.6354097801, -2.5613930775))
        make_face(mode=Mode.SUBTRACT)
        with BuildLine():
            add(Edge.make_bspline(
                [(33.2027122619, 1.7532800384), (33.1104508011, 1.8439598742), (33.1104508011, 2.0284827958)],
                knots=[0, 0, 0, 1, 1, 1], degree=2))
            add(Edge.make_bspline(
                [(33.1104508011, 2.0284827958), (33.1104508011, 2.2161689675), (33.2027122619, 2.3036855532)],
                knots=[0, 0, 0, 1, 1, 1], degree=2))
            add(Edge.make_bspline(
                [(33.2027122619, 2.3036855532), (33.2949737227, 2.3912021389), (33.4341567264, 2.3912021389)],
                knots=[0, 0, 0, 1, 1, 1], degree=2))
            add(Edge.make_bspline(
                [(33.4341567264, 2.3912021389), (33.5659588133, 2.3912021389), (33.6613835242, 2.3021039282)],
                knots=[0, 0, 0, 1, 1, 1], degree=2))
            add(Edge.make_bspline(
                [(33.6613835242, 2.3021039282), (33.7568082351, 2.2130057174), (33.7568082351, 2.0284827958)],
                knots=[0, 0, 0, 1, 1, 1], degree=2))
            add(Edge.make_bspline(
                [(33.7568082351, 2.0284827958), (33.7568082351, 1.8439598742), (33.6613835242, 1.7532800384)],
                knots=[0, 0, 0, 1, 1, 1], degree=2))
            add(Edge.make_bspline(
                [(33.6613835242, 1.7532800384), (33.5659588133, 1.6626002027), (33.4341567264, 1.6626002027)],
                knots=[0, 0, 0, 1, 1, 1], degree=2))
            add(Edge.make_bspline(
                [(33.4341567264, 1.6626002027), (33.2949737227, 1.6626002027), (33.2027122619, 1.7532800384)],
                knots=[0, 0, 0, 1, 1, 1], degree=2))
        make_face(mode=Mode.SUBTRACT)
    extrude(amount=F1_DEPTH)


solid = f1.part
